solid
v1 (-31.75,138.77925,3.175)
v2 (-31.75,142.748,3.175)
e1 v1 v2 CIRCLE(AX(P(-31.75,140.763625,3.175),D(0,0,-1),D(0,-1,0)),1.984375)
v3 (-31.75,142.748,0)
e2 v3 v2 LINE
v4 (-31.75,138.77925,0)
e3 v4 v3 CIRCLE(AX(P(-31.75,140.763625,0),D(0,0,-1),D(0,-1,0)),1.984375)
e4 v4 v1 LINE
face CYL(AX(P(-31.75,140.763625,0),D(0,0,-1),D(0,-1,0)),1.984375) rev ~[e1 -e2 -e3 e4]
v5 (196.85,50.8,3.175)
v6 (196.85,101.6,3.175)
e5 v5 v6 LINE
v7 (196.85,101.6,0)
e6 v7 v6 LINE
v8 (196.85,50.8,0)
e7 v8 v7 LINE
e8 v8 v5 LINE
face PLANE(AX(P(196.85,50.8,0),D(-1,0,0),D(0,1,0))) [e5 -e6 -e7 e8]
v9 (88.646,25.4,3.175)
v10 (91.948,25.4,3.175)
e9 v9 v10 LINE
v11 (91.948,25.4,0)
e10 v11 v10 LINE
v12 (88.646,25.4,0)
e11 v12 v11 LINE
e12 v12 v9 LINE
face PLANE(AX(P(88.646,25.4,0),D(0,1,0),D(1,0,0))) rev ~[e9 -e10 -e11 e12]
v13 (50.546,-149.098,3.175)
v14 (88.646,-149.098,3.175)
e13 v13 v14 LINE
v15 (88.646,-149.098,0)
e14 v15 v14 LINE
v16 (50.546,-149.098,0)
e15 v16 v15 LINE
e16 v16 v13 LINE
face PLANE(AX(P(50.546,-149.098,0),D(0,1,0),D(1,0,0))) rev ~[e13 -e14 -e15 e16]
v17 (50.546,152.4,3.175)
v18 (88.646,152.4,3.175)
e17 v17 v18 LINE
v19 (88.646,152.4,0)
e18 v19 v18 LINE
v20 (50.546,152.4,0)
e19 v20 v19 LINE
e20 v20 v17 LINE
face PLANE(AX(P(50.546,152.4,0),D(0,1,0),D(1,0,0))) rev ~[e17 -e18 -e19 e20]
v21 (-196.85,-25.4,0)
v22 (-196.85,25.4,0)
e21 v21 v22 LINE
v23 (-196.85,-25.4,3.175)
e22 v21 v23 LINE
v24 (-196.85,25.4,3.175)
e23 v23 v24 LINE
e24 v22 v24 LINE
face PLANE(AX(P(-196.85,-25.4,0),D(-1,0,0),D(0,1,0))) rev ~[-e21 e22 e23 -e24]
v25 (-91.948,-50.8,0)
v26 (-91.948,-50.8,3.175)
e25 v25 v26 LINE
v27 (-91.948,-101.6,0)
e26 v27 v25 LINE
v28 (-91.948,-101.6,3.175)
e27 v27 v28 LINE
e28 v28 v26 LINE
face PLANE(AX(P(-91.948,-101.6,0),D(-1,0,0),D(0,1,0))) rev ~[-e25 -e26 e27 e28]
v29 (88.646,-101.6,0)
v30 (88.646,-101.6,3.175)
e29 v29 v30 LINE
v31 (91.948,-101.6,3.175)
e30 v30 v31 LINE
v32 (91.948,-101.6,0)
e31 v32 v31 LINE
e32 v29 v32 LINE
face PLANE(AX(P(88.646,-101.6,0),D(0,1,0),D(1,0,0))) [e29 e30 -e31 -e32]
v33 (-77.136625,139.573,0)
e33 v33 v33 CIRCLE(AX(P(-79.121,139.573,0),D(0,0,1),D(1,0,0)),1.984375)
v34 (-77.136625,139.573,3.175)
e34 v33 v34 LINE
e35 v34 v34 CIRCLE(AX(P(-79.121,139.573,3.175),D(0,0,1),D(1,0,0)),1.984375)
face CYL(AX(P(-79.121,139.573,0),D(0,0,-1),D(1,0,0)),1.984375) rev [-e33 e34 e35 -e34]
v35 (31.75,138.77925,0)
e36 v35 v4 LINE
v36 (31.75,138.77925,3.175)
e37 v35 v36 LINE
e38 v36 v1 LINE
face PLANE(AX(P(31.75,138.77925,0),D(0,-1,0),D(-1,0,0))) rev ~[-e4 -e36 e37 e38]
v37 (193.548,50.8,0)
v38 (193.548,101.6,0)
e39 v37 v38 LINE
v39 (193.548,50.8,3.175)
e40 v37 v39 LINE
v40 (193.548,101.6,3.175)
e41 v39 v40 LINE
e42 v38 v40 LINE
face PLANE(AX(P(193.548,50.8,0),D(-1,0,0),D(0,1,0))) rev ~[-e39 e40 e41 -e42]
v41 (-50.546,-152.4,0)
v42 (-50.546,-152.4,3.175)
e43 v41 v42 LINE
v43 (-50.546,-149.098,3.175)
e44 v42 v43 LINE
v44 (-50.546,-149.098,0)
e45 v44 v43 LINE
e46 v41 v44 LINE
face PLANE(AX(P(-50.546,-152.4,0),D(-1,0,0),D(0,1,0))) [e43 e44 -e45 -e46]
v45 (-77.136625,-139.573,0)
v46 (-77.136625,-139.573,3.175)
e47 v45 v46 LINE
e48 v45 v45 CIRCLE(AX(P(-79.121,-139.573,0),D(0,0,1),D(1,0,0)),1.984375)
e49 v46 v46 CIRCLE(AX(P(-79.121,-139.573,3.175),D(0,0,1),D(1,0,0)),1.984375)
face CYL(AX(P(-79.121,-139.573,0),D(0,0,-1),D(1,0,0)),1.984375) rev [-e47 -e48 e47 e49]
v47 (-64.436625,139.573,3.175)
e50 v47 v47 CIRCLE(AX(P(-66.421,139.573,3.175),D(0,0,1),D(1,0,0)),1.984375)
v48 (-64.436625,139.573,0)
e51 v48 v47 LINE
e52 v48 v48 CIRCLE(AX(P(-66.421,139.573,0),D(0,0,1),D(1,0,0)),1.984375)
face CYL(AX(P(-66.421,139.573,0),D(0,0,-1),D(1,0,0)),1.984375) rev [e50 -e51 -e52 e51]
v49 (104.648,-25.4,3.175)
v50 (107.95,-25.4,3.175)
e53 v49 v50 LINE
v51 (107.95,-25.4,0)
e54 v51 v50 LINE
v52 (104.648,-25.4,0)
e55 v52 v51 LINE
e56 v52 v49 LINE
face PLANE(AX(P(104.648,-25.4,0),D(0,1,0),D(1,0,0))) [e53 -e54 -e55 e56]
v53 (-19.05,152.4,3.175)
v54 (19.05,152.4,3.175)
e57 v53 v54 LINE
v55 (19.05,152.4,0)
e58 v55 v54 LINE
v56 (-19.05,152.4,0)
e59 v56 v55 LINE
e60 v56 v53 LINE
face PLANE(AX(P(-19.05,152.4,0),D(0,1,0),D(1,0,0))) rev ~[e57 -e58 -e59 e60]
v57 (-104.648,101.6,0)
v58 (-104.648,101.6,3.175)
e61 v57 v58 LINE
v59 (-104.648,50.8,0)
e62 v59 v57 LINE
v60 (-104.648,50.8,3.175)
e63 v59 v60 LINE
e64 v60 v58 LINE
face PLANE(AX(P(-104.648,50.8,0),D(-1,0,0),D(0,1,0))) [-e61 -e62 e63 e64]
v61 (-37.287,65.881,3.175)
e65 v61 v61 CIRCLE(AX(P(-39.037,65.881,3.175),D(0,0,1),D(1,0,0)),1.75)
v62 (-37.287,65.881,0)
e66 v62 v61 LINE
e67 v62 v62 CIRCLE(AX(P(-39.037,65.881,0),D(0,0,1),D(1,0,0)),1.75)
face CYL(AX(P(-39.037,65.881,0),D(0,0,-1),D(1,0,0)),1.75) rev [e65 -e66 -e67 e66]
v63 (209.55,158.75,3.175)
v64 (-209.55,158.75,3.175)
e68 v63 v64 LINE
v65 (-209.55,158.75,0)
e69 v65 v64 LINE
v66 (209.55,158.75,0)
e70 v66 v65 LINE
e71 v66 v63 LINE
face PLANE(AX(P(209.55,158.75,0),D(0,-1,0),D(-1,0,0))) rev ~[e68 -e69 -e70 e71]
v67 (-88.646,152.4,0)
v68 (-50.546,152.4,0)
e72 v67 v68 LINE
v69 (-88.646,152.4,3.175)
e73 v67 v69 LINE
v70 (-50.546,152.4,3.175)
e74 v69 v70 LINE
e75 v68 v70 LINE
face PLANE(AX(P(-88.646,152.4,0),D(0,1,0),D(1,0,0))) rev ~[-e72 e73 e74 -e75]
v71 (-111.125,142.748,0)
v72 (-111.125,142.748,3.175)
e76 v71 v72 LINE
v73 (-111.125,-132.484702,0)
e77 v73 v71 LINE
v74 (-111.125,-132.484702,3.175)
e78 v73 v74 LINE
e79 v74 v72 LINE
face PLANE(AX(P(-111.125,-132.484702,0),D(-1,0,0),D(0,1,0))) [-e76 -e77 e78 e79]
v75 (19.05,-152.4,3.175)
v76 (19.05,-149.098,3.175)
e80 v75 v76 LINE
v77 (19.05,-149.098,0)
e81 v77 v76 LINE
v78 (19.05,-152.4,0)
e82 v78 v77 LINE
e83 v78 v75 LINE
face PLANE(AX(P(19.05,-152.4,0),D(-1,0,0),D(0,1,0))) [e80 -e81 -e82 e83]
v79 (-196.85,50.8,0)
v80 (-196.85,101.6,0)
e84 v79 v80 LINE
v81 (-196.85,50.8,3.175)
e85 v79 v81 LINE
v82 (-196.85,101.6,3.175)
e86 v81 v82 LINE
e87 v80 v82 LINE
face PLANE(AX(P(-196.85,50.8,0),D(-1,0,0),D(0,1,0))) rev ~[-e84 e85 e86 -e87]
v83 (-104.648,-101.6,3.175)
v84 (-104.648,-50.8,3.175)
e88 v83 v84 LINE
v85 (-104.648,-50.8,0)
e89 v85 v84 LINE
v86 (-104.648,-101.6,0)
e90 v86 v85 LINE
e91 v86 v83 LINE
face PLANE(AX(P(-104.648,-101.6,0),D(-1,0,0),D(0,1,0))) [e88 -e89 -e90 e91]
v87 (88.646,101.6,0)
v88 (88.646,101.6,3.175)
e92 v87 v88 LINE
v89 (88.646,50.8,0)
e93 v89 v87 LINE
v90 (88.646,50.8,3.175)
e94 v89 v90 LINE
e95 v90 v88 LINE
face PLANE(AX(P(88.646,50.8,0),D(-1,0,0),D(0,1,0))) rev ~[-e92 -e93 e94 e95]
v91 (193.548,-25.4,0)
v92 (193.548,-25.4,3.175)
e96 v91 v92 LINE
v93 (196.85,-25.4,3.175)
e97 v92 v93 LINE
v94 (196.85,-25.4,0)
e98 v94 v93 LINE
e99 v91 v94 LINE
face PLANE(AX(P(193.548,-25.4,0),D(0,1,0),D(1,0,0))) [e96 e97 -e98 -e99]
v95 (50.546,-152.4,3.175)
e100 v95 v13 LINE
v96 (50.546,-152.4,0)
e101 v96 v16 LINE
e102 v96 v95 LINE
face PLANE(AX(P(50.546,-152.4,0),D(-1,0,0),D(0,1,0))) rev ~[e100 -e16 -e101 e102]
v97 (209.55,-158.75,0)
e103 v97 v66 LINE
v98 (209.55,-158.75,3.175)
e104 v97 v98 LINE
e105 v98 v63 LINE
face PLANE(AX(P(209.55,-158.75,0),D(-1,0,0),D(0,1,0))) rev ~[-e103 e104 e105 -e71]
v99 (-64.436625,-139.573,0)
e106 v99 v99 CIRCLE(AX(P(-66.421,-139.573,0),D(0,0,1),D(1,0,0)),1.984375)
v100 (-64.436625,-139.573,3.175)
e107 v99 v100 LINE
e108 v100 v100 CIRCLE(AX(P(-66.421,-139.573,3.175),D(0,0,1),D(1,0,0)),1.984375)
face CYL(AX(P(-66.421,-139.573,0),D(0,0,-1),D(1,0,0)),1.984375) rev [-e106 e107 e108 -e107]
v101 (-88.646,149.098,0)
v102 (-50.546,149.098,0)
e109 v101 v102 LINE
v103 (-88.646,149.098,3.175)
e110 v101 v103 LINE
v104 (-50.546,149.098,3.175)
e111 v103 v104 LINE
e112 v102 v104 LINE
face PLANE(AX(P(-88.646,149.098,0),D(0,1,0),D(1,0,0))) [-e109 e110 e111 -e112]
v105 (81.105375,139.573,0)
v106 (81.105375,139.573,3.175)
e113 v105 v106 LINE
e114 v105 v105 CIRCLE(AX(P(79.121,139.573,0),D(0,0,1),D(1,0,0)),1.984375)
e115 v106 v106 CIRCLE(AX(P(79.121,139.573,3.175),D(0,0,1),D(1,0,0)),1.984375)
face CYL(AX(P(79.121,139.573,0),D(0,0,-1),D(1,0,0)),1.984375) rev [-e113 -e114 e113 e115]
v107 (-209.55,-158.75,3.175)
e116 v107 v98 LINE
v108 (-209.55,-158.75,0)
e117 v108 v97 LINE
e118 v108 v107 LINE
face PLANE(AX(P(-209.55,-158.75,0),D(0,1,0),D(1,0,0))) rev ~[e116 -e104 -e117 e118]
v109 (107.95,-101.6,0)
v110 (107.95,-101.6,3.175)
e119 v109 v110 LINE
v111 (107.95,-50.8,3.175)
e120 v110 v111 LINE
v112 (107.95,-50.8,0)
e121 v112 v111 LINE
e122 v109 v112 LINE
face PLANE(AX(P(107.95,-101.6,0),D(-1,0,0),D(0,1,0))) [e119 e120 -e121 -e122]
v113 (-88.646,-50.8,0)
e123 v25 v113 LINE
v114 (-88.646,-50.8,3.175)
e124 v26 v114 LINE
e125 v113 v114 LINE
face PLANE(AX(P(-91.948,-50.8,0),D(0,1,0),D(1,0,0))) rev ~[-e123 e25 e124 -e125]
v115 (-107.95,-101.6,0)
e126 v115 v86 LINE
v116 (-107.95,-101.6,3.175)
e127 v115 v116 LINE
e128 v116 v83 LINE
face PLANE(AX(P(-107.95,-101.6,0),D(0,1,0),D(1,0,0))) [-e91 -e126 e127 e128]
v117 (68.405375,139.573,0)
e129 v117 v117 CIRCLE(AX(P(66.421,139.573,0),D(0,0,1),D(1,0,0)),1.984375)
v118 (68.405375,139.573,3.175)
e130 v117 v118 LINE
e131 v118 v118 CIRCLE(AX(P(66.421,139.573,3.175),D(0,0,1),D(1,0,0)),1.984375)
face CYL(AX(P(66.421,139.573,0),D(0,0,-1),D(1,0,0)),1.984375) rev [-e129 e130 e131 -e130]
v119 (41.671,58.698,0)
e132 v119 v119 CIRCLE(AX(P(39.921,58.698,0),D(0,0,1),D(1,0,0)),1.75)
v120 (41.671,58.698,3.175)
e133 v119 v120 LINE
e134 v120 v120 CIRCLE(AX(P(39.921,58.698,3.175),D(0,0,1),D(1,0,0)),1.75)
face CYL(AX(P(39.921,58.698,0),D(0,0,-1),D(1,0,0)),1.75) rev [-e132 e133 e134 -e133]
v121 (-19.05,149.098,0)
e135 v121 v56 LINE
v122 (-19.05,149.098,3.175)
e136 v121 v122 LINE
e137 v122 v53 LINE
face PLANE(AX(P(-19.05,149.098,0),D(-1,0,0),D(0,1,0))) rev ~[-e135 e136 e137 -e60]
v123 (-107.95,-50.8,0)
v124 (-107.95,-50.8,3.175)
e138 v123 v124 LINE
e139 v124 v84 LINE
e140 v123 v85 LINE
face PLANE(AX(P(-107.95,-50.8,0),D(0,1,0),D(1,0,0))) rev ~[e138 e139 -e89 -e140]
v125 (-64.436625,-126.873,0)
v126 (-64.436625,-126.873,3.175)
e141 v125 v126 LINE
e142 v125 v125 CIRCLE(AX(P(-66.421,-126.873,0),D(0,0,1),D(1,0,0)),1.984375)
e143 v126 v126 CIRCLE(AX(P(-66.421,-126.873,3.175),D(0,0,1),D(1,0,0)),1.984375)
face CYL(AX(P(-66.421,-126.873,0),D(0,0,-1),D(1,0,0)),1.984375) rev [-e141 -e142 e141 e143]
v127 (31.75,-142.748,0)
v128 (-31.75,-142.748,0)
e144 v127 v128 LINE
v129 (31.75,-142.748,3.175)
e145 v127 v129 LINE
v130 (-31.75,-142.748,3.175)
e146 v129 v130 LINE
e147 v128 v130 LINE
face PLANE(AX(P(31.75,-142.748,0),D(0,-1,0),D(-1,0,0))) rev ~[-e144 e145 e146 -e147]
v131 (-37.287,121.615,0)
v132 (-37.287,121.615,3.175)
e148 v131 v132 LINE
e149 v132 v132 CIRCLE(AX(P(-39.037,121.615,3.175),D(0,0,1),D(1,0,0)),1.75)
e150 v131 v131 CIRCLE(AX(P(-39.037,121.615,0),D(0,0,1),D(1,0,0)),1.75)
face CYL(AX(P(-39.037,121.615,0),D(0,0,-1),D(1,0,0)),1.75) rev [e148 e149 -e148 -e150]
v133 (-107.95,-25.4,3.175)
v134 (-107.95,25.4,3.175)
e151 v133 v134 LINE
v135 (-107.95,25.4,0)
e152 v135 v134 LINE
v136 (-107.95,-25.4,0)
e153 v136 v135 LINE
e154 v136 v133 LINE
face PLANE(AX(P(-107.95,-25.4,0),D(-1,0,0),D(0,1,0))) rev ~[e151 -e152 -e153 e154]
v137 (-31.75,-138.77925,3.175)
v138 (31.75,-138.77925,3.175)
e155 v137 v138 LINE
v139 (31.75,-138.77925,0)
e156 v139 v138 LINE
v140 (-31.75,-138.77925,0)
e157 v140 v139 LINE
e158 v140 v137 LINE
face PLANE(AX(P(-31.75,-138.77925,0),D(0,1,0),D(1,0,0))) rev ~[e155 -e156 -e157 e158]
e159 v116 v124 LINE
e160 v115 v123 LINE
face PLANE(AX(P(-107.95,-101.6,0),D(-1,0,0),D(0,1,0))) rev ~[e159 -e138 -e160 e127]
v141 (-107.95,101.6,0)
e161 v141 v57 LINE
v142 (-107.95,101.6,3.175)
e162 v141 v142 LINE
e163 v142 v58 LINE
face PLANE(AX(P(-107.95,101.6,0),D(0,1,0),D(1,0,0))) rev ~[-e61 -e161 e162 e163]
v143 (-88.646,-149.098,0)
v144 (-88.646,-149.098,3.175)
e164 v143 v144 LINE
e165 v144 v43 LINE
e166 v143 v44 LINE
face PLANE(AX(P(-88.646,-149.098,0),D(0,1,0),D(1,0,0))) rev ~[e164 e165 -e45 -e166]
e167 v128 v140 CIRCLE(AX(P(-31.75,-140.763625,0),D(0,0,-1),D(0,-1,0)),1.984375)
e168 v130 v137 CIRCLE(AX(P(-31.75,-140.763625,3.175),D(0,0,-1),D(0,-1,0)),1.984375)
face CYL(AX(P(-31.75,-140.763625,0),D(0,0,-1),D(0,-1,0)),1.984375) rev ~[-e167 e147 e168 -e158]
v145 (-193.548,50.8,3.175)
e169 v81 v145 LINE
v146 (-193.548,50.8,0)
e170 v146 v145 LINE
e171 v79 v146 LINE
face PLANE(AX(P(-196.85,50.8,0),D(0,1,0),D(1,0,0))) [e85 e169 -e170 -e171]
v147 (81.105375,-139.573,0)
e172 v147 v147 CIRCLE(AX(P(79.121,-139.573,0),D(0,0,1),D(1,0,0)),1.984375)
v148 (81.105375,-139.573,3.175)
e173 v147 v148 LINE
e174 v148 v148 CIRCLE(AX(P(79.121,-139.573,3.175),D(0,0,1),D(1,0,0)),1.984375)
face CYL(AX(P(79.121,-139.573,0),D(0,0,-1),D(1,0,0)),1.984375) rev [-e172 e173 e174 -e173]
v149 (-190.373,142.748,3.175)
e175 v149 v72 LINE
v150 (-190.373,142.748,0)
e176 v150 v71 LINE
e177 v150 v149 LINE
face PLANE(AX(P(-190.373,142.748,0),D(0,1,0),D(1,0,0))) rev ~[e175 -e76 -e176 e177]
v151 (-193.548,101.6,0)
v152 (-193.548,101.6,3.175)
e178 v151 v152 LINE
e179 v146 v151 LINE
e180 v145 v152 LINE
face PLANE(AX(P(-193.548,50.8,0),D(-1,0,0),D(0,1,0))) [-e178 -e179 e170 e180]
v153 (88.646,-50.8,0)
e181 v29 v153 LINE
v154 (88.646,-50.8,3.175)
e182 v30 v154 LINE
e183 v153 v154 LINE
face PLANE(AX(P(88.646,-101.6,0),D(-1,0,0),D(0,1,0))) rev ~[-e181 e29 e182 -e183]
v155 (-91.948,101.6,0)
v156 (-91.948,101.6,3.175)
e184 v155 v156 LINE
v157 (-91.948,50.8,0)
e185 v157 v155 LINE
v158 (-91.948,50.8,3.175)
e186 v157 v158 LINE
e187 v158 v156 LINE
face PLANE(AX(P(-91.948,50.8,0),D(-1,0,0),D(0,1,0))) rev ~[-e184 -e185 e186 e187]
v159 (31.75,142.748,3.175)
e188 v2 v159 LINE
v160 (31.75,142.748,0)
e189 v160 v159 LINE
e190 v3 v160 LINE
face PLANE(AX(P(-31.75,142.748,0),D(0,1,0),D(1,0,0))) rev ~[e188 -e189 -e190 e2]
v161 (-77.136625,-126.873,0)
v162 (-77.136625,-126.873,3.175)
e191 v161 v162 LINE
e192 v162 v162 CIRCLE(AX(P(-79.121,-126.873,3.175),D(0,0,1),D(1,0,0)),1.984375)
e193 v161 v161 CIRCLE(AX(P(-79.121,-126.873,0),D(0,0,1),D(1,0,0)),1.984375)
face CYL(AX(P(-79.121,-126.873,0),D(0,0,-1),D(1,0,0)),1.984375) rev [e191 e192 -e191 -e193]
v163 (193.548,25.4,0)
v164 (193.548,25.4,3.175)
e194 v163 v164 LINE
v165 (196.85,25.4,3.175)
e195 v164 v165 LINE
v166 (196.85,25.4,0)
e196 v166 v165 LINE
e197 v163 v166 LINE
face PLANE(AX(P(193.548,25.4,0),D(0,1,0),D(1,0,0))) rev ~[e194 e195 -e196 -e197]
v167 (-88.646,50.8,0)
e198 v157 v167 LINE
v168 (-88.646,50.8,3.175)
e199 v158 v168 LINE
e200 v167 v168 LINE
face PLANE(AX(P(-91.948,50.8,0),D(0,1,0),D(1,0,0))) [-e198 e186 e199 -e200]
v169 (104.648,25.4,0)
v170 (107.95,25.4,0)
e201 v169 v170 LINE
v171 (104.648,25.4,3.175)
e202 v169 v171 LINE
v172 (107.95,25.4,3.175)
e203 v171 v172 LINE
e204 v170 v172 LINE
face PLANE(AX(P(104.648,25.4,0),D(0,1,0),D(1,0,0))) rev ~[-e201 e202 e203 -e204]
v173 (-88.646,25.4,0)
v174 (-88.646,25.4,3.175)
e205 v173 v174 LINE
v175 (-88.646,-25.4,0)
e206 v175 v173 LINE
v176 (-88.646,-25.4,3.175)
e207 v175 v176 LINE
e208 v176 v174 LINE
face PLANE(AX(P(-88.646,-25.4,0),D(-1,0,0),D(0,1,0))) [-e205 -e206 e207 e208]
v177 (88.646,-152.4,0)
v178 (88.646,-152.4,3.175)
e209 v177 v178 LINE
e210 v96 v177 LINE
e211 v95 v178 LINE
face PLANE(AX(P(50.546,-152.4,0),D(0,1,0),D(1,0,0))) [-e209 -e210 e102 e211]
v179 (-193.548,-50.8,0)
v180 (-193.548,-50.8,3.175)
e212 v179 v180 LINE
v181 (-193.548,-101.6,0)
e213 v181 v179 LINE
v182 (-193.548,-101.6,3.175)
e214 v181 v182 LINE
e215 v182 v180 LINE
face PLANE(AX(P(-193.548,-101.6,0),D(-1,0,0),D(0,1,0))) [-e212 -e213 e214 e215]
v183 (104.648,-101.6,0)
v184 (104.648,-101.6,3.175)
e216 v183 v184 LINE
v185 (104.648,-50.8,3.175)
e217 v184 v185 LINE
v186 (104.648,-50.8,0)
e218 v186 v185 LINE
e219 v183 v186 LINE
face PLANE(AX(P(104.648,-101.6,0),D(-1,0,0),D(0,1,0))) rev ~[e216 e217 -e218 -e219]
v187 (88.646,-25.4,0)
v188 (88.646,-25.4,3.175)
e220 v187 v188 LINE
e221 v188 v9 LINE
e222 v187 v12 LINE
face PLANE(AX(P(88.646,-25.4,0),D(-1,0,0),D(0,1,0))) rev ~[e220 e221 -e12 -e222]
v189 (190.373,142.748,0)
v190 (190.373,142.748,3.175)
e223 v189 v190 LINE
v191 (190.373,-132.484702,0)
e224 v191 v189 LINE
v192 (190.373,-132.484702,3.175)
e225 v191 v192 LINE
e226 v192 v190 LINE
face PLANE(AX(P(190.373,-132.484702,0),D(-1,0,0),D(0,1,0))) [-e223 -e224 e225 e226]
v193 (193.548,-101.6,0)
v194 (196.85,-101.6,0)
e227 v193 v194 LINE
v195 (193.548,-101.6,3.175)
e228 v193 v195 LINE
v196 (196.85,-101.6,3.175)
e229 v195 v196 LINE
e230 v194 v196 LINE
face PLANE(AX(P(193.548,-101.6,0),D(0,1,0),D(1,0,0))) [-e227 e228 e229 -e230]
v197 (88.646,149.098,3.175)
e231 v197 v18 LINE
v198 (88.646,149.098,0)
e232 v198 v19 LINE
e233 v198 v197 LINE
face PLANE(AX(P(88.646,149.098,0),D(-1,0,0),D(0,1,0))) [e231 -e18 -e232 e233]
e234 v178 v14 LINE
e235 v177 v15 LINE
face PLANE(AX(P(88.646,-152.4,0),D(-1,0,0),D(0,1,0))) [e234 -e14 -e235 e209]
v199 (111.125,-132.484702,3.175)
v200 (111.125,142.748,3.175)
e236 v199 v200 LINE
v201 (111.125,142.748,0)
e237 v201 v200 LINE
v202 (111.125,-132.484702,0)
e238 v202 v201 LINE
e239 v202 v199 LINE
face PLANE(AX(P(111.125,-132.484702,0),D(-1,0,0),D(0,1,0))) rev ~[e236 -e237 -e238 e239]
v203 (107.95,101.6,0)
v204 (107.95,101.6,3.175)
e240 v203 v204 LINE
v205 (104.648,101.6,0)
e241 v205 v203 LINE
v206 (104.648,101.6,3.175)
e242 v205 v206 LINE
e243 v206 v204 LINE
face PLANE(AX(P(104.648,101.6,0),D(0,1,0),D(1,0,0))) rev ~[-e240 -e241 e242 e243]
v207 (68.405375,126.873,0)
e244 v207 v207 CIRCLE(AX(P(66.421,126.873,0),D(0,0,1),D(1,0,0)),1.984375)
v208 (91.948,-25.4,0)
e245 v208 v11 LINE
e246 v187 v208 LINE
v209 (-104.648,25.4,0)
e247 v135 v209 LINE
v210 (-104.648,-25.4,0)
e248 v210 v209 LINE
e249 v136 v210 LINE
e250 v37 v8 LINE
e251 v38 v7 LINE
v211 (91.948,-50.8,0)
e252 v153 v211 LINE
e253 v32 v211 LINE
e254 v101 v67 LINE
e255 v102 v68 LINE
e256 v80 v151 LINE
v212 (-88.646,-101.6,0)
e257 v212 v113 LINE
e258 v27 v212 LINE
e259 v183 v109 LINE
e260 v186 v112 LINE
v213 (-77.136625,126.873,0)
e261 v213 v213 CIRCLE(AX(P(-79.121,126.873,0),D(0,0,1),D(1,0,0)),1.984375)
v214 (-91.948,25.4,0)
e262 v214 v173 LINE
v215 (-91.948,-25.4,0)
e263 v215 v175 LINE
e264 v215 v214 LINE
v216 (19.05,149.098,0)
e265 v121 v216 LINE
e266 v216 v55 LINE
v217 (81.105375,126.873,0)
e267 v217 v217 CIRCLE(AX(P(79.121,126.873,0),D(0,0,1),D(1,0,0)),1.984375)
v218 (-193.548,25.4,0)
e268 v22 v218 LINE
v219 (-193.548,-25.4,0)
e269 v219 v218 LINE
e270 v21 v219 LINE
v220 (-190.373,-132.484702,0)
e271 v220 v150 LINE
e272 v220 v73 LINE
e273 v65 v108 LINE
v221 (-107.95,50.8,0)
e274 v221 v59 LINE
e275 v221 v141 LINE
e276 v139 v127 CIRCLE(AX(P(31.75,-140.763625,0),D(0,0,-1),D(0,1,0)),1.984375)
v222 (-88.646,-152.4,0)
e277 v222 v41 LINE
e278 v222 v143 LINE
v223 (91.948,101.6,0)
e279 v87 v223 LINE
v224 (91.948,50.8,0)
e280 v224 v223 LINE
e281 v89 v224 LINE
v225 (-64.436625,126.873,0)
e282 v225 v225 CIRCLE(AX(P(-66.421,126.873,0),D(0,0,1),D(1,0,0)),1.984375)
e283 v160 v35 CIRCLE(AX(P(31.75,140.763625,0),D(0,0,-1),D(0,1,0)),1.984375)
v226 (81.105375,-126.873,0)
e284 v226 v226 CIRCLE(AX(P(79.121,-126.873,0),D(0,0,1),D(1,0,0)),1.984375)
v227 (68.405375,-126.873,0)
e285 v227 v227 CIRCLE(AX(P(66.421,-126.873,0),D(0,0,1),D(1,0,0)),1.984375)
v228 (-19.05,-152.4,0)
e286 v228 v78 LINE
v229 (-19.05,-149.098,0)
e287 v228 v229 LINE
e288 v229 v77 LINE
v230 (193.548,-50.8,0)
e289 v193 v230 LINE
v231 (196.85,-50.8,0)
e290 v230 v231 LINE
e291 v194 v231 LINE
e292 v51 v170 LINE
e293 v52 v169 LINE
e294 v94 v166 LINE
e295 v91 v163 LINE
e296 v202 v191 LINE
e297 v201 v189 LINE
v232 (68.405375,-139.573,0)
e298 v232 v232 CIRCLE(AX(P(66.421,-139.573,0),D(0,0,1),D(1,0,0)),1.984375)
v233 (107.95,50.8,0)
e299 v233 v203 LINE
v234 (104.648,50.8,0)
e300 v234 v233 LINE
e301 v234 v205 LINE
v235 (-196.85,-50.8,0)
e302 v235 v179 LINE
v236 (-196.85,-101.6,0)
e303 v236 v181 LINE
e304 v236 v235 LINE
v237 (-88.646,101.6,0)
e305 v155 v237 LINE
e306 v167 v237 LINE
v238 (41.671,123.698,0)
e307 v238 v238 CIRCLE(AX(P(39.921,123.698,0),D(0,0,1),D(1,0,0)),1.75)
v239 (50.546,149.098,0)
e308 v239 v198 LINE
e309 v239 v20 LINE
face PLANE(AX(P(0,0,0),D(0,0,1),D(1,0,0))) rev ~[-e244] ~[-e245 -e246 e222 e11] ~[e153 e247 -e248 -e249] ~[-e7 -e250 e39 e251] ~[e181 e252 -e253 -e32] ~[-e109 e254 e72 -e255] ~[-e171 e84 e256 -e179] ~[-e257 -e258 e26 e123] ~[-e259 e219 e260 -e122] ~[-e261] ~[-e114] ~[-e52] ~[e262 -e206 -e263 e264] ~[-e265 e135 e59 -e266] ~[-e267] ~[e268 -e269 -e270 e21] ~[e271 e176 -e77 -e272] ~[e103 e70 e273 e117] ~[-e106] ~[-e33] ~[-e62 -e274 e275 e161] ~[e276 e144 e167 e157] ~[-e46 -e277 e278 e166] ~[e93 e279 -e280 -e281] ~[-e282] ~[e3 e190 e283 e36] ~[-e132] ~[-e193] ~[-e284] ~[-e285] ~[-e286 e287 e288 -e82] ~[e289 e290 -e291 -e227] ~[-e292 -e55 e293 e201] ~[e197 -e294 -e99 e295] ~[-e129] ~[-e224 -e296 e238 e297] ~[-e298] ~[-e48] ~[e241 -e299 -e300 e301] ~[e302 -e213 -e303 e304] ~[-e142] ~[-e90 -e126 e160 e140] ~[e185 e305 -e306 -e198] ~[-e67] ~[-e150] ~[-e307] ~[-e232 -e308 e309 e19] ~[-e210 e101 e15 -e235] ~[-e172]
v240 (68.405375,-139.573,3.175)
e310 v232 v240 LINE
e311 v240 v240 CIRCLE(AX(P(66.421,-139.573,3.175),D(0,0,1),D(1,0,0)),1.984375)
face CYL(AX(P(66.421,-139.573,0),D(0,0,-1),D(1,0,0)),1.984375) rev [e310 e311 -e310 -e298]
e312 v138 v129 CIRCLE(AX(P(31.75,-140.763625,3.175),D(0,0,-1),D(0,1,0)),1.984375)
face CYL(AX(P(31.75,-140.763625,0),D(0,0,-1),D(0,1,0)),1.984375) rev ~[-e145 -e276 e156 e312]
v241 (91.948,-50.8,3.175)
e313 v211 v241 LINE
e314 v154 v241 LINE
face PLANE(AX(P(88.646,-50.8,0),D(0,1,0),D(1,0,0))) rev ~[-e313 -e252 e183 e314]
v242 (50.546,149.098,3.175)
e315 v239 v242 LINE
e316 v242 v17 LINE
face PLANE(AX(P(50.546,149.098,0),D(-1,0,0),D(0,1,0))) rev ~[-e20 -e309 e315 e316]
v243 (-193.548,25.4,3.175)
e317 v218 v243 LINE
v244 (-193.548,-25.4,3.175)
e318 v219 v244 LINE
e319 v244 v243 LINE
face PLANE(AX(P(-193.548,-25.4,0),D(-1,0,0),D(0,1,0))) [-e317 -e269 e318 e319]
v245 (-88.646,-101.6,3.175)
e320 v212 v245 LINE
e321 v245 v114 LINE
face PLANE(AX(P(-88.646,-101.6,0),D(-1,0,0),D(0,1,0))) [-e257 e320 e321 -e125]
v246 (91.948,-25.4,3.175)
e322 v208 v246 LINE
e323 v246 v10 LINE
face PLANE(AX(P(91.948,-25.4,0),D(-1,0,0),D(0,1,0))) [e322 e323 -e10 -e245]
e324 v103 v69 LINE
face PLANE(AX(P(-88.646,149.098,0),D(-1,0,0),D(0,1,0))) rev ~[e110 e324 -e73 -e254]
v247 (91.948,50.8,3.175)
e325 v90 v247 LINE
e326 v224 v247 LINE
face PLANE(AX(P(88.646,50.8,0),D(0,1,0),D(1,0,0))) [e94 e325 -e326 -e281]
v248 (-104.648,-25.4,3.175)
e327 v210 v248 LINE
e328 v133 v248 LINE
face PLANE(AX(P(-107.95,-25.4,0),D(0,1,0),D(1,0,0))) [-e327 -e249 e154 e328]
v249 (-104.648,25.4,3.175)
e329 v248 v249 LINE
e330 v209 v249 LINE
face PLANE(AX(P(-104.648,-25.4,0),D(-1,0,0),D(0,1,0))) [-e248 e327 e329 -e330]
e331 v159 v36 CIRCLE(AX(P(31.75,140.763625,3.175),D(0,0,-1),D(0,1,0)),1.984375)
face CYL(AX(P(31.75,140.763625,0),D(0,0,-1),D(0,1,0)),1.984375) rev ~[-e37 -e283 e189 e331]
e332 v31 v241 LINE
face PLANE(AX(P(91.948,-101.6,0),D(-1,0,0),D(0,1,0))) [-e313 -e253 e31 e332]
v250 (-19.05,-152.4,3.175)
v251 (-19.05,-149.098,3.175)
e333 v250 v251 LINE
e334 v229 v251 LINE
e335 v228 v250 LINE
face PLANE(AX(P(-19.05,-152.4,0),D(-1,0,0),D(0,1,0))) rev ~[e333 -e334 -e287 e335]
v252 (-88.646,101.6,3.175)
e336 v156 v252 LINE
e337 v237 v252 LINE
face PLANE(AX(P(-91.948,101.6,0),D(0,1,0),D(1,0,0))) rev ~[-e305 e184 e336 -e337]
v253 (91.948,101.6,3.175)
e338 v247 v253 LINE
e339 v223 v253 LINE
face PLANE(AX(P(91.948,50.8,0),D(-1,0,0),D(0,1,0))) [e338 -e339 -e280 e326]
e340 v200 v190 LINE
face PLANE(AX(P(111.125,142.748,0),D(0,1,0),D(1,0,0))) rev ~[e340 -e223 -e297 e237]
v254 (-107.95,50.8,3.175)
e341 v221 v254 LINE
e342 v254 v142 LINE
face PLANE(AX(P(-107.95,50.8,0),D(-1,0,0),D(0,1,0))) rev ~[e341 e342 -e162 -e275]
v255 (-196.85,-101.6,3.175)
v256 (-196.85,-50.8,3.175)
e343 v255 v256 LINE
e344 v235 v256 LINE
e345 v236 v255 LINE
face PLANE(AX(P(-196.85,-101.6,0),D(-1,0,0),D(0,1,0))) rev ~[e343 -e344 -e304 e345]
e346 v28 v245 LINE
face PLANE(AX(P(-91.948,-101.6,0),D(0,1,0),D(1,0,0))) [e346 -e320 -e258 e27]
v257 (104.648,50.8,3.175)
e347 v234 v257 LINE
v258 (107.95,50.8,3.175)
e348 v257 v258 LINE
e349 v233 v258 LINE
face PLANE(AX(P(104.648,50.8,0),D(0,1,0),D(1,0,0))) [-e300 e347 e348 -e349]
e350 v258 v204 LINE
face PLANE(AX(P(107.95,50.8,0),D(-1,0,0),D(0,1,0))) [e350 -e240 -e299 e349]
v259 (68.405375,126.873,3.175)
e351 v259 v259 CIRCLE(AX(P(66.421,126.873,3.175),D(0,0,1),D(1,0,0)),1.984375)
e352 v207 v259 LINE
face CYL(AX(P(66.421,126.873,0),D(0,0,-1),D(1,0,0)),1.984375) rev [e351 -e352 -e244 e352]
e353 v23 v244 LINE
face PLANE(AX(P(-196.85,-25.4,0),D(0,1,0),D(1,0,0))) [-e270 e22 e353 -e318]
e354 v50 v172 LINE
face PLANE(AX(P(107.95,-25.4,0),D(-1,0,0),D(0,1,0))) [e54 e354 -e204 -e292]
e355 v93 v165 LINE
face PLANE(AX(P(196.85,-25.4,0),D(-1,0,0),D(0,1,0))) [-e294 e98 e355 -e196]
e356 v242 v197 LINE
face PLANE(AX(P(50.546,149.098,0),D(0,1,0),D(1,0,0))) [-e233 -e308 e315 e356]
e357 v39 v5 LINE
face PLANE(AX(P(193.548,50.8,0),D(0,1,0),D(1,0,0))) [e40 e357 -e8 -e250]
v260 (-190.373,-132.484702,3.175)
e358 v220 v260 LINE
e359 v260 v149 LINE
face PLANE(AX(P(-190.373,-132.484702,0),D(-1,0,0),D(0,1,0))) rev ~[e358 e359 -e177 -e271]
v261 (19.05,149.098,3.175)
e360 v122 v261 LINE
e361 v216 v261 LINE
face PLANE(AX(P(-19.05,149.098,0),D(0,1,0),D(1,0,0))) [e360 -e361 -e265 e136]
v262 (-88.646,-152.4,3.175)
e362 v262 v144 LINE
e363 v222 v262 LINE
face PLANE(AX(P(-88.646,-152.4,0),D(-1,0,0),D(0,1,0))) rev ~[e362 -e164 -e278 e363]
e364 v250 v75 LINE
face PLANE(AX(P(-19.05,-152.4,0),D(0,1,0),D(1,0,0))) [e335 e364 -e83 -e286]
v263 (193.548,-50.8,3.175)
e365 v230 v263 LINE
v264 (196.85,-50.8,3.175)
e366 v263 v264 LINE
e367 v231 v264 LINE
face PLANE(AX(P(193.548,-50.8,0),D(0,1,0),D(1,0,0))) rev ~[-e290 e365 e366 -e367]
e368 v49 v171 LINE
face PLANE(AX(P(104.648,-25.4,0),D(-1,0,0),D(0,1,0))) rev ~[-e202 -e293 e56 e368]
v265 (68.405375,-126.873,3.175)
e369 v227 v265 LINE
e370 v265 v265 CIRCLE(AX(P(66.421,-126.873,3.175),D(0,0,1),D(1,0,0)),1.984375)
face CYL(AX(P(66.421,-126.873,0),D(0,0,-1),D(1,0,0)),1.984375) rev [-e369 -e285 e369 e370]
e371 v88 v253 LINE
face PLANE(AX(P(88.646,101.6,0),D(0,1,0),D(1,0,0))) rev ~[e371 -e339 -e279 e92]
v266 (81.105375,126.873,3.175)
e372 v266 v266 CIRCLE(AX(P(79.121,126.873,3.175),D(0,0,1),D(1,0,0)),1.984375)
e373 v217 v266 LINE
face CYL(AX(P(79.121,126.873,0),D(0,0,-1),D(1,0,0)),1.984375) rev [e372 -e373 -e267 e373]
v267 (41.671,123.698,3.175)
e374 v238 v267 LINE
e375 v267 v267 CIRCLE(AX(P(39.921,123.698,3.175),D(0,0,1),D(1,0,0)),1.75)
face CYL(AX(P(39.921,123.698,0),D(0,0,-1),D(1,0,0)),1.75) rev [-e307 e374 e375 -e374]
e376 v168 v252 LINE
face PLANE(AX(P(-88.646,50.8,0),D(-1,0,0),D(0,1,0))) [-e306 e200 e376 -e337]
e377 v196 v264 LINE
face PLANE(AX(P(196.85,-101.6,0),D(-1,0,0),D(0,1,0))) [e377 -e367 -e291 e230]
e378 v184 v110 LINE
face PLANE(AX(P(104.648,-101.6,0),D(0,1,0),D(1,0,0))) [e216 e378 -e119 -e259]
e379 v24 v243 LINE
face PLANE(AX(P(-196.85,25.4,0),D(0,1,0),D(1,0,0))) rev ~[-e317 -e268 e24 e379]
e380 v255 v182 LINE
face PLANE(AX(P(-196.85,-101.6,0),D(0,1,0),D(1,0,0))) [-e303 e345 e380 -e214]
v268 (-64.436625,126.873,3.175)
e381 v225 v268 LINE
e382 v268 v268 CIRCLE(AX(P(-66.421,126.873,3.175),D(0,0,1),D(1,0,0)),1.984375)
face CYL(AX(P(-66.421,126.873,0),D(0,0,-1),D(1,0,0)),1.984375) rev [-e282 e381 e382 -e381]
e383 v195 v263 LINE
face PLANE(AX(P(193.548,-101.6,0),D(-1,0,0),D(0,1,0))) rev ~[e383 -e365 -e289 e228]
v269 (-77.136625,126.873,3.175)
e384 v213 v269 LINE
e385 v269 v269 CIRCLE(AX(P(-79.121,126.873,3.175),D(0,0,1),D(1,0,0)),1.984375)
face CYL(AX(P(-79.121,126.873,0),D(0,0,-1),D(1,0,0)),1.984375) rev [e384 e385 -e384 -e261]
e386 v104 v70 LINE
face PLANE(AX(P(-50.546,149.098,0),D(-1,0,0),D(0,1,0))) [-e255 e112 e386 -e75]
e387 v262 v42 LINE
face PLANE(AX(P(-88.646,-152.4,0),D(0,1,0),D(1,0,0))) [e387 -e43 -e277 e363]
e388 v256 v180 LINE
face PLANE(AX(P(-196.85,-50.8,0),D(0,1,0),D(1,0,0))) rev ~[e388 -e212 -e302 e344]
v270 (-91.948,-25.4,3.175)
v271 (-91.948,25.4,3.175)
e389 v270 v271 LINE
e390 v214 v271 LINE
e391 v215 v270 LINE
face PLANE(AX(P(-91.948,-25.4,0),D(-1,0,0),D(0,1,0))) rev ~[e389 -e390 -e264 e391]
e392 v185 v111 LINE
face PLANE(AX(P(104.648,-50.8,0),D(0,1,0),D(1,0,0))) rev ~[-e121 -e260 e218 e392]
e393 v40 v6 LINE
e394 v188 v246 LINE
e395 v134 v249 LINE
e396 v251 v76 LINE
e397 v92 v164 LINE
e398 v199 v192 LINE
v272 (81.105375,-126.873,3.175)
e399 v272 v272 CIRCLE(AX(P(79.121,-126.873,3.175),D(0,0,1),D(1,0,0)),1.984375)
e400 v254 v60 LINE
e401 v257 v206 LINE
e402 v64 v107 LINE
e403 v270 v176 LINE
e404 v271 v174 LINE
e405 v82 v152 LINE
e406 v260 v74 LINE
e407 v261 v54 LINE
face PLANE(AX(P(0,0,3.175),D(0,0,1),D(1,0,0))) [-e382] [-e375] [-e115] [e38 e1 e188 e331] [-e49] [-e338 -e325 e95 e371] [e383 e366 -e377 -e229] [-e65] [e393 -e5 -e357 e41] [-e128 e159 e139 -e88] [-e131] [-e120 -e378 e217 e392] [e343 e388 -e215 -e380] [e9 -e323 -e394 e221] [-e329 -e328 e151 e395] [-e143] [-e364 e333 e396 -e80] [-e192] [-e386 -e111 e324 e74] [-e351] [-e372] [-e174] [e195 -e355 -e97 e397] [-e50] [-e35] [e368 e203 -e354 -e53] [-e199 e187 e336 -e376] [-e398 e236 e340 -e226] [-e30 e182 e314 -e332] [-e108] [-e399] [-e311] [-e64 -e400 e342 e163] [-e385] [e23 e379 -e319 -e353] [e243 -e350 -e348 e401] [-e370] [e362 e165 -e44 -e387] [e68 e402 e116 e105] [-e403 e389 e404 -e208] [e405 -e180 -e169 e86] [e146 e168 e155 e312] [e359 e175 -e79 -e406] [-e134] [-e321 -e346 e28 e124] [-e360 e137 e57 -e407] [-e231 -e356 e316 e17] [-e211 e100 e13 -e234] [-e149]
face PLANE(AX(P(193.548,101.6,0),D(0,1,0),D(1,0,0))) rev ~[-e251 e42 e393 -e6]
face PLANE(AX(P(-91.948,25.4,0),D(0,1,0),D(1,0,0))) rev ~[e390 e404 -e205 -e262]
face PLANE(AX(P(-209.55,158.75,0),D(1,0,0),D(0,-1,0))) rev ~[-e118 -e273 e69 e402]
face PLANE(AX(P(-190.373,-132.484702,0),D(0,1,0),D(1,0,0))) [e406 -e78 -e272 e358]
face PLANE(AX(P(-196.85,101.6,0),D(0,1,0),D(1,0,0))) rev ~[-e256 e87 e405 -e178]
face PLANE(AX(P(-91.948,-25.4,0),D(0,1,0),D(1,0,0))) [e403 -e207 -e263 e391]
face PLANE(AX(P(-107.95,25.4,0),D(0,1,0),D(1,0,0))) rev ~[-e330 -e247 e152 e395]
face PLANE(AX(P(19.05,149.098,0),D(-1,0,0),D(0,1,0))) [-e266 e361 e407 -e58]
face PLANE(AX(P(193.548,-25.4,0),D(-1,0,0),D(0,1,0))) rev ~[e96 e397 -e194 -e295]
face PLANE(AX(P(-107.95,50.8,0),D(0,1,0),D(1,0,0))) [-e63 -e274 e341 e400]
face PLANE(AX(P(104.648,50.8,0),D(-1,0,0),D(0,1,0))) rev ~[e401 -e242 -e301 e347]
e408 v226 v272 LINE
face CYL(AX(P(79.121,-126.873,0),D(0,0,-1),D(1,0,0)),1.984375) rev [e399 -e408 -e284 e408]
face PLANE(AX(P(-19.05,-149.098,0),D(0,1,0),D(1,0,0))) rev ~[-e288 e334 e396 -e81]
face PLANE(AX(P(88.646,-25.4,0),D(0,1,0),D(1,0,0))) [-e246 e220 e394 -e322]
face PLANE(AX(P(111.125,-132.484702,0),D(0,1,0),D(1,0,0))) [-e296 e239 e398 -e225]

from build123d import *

# Parameters (mm, degrees)
F0_R     = 1.984375
F0_W     = 38.1
F0_H     = 3.302
F0_W_2   = 3.302
F0_H_2   = 50.8
F0_W_3   = 79.248
F0_H_3   = 275.232702
F0_R_2   = 1.75
F1_DEPTH = 3.175


with BuildPart() as f1:
    # F0 (on Top) → F1 (new body)
    with BuildSketch(Plane.XY):
        Polygon((-111.125, -158.75), (111.125, -158.75), (209.55, -158.75), (209.55, 158.75), (111.125, 158.75), (-111.125, 158.75), (-209.55, 158.75), (-209.55, -158.75), align=None)
        with Locations((-79.121, -139.573)):
            Circle(F0_R, mode=Mode.SUBTRACT)
        with Locations((-69.596, -150.749)):
            Rectangle(F0_W, F0_H, mode=Mode.SUBTRACT)
        with Locations((-66.421, -139.573)):
            Circle(F0_R, mode=Mode.SUBTRACT)
        with Locations((-79.121, -126.873)):
            Circle(F0_R, mode=Mode.SUBTRACT)
        with Locations((-66.421, -126.873)):
            Circle(F0_R, mode=Mode.SUBTRACT)
        with Locations((-195.199, -76.2)):
            Rectangle(F0_W_2, F0_H_2, mode=Mode.SUBTRACT)
        with Locations((-106.299, -76.2)):
            Rectangle(F0_W_2, F0_H_2, mode=Mode.SUBTRACT)
        with Locations((-90.297, -76.2)):
            Rectangle(F0_W_2, F0_H_2, mode=Mode.SUBTRACT)
        with Locations((0, -150.749)):
            Rectangle(F0_W, F0_H, mode=Mode.SUBTRACT)
        with BuildLine():
            ThreePointArc((-31.75, -142.748), (-33.734375, -140.763625), (-31.75, -138.77925))
            Line((-31.75, -138.77925), (0, -138.77925))
            Line((0, -138.77925), (31.75, -138.77925))
            ThreePointArc((31.75, -138.77925), (33.734375, -140.763625), (31.75, -142.748))
            Line((31.75, -142.748), (0, -142.748))
            Line((0, -142.748), (-31.75, -142.748))
        make_face(mode=Mode.SUBTRACT)
        with Locations((69.596, -150.749)):
            Rectangle(F0_W, F0_H, mode=Mode.SUBTRACT)
        with Locations((66.421, -139.573)):
            Circle(F0_R, mode=Mode.SUBTRACT)
        with Locations((79.121, -139.573)):
            Circle(F0_R, mode=Mode.SUBTRACT)
        with Locations((66.421, -126.873)):
            Circle(F0_R, mode=Mode.SUBTRACT)
        with Locations((79.121, -126.873)):
            Circle(F0_R, mode=Mode.SUBTRACT)
        with Locations((90.297, -76.2)):
            Rectangle(F0_W_2, F0_H_2, mode=Mode.SUBTRACT)
        with Locations((106.299, -76.2)):
            Rectangle(F0_W_2, F0_H_2, mode=Mode.SUBTRACT)
        with Locations((195.199, -76.2)):
            Rectangle(F0_W_2, F0_H_2, mode=Mode.SUBTRACT)
        with Locations((-195.199, 0)):
            Rectangle(F0_W_2, F0_H_2, mode=Mode.SUBTRACT)
        with Locations((-150.749, 5.131649)):
            Rectangle(F0_W_3, F0_H_3, mode=Mode.SUBTRACT)
        with Locations((-106.299, 0)):
            Rectangle(F0_W_2, F0_H_2, mode=Mode.SUBTRACT)
        with Locations((-195.199, 76.2)):
            Rectangle(F0_W_2, F0_H_2, mode=Mode.SUBTRACT)
        with Locations((-106.299, 76.2)):
            Rectangle(F0_W_2, F0_H_2, mode=Mode.SUBTRACT)
        with Locations((-90.297, 0)):
            Rectangle(F0_W_2, F0_H_2, mode=Mode.SUBTRACT)
        with Locations((-90.297, 76.2)):
            Rectangle(F0_W_2, F0_H_2, mode=Mode.SUBTRACT)
        with Locations((-39.037, 65.881)):
            Circle(F0_R_2, mode=Mode.SUBTRACT)
        with Locations((-79.121, 126.873)):
            Circle(F0_R, mode=Mode.SUBTRACT)
        with Locations((-66.421, 126.873)):
            Circle(F0_R, mode=Mode.SUBTRACT)
        with Locations((-79.121, 139.573)):
            Circle(F0_R, mode=Mode.SUBTRACT)
        with Locations((-66.421, 139.573)):
            Circle(F0_R, mode=Mode.SUBTRACT)
        with Locations((-69.596, 150.749)):
            Rectangle(F0_W, F0_H, mode=Mode.SUBTRACT)
        with Locations((-39.037, 121.615)):
            Circle(F0_R_2, mode=Mode.SUBTRACT)
        with Locations((90.297, 0)):
            Rectangle(F0_W_2, F0_H_2, mode=Mode.SUBTRACT)
        with Locations((39.921, 58.698)):
            Circle(F0_R_2, mode=Mode.SUBTRACT)
        with Locations((90.297, 76.2)):
            Rectangle(F0_W_2, F0_H_2, mode=Mode.SUBTRACT)
        with Locations((106.299, 0)):
            Rectangle(F0_W_2, F0_H_2, mode=Mode.SUBTRACT)
        with Locations((150.749, 5.131649)):
            Rectangle(F0_W_3, F0_H_3, mode=Mode.SUBTRACT)
        with Locations((195.199, 0)):
            Rectangle(F0_W_2, F0_H_2, mode=Mode.SUBTRACT)
        with Locations((106.299, 76.2)):
            Rectangle(F0_W_2, F0_H_2, mode=Mode.SUBTRACT)
        with Locations((195.199, 76.2)):
            Rectangle(F0_W_2, F0_H_2, mode=Mode.SUBTRACT)
        with Locations((39.921, 123.698)):
            Circle(F0_R_2, mode=Mode.SUBTRACT)
        with BuildLine():
            Line((-31.75, 142.748), (0, 142.748))
            Line((0, 142.748), (31.75, 142.748))
            ThreePointArc((31.75, 142.748), (33.734375, 140.763625), (31.75, 138.77925))
            Line((31.75, 138.77925), (0, 138.77925))
            Line((0, 138.77925), (-31.75, 138.77925))
            ThreePointArc((-31.75, 138.77925), (-33.734375, 140.763625), (-31.75, 142.748))
        make_face(mode=Mode.SUBTRACT)
        with Locations((0, 150.749)):
            Rectangle(F0_W, F0_H, mode=Mode.SUBTRACT)
        with Locations((66.421, 126.873)):
            Circle(F0_R, mode=Mode.SUBTRACT)
        with Locations((79.121, 126.873)):
            Circle(F0_R, mode=Mode.SUBTRACT)
        with Locations((66.421, 139.573)):
            Circle(F0_R, mode=Mode.SUBTRACT)
        with Locations((69.596, 150.749)):
            Rectangle(F0_W, F0_H, mode=Mode.SUBTRACT)
        with Locations((79.121, 139.573)):
            Circle(F0_R, mode=Mode.SUBTRACT)
    extrude(amount=F1_DEPTH)


solid = f1.part
